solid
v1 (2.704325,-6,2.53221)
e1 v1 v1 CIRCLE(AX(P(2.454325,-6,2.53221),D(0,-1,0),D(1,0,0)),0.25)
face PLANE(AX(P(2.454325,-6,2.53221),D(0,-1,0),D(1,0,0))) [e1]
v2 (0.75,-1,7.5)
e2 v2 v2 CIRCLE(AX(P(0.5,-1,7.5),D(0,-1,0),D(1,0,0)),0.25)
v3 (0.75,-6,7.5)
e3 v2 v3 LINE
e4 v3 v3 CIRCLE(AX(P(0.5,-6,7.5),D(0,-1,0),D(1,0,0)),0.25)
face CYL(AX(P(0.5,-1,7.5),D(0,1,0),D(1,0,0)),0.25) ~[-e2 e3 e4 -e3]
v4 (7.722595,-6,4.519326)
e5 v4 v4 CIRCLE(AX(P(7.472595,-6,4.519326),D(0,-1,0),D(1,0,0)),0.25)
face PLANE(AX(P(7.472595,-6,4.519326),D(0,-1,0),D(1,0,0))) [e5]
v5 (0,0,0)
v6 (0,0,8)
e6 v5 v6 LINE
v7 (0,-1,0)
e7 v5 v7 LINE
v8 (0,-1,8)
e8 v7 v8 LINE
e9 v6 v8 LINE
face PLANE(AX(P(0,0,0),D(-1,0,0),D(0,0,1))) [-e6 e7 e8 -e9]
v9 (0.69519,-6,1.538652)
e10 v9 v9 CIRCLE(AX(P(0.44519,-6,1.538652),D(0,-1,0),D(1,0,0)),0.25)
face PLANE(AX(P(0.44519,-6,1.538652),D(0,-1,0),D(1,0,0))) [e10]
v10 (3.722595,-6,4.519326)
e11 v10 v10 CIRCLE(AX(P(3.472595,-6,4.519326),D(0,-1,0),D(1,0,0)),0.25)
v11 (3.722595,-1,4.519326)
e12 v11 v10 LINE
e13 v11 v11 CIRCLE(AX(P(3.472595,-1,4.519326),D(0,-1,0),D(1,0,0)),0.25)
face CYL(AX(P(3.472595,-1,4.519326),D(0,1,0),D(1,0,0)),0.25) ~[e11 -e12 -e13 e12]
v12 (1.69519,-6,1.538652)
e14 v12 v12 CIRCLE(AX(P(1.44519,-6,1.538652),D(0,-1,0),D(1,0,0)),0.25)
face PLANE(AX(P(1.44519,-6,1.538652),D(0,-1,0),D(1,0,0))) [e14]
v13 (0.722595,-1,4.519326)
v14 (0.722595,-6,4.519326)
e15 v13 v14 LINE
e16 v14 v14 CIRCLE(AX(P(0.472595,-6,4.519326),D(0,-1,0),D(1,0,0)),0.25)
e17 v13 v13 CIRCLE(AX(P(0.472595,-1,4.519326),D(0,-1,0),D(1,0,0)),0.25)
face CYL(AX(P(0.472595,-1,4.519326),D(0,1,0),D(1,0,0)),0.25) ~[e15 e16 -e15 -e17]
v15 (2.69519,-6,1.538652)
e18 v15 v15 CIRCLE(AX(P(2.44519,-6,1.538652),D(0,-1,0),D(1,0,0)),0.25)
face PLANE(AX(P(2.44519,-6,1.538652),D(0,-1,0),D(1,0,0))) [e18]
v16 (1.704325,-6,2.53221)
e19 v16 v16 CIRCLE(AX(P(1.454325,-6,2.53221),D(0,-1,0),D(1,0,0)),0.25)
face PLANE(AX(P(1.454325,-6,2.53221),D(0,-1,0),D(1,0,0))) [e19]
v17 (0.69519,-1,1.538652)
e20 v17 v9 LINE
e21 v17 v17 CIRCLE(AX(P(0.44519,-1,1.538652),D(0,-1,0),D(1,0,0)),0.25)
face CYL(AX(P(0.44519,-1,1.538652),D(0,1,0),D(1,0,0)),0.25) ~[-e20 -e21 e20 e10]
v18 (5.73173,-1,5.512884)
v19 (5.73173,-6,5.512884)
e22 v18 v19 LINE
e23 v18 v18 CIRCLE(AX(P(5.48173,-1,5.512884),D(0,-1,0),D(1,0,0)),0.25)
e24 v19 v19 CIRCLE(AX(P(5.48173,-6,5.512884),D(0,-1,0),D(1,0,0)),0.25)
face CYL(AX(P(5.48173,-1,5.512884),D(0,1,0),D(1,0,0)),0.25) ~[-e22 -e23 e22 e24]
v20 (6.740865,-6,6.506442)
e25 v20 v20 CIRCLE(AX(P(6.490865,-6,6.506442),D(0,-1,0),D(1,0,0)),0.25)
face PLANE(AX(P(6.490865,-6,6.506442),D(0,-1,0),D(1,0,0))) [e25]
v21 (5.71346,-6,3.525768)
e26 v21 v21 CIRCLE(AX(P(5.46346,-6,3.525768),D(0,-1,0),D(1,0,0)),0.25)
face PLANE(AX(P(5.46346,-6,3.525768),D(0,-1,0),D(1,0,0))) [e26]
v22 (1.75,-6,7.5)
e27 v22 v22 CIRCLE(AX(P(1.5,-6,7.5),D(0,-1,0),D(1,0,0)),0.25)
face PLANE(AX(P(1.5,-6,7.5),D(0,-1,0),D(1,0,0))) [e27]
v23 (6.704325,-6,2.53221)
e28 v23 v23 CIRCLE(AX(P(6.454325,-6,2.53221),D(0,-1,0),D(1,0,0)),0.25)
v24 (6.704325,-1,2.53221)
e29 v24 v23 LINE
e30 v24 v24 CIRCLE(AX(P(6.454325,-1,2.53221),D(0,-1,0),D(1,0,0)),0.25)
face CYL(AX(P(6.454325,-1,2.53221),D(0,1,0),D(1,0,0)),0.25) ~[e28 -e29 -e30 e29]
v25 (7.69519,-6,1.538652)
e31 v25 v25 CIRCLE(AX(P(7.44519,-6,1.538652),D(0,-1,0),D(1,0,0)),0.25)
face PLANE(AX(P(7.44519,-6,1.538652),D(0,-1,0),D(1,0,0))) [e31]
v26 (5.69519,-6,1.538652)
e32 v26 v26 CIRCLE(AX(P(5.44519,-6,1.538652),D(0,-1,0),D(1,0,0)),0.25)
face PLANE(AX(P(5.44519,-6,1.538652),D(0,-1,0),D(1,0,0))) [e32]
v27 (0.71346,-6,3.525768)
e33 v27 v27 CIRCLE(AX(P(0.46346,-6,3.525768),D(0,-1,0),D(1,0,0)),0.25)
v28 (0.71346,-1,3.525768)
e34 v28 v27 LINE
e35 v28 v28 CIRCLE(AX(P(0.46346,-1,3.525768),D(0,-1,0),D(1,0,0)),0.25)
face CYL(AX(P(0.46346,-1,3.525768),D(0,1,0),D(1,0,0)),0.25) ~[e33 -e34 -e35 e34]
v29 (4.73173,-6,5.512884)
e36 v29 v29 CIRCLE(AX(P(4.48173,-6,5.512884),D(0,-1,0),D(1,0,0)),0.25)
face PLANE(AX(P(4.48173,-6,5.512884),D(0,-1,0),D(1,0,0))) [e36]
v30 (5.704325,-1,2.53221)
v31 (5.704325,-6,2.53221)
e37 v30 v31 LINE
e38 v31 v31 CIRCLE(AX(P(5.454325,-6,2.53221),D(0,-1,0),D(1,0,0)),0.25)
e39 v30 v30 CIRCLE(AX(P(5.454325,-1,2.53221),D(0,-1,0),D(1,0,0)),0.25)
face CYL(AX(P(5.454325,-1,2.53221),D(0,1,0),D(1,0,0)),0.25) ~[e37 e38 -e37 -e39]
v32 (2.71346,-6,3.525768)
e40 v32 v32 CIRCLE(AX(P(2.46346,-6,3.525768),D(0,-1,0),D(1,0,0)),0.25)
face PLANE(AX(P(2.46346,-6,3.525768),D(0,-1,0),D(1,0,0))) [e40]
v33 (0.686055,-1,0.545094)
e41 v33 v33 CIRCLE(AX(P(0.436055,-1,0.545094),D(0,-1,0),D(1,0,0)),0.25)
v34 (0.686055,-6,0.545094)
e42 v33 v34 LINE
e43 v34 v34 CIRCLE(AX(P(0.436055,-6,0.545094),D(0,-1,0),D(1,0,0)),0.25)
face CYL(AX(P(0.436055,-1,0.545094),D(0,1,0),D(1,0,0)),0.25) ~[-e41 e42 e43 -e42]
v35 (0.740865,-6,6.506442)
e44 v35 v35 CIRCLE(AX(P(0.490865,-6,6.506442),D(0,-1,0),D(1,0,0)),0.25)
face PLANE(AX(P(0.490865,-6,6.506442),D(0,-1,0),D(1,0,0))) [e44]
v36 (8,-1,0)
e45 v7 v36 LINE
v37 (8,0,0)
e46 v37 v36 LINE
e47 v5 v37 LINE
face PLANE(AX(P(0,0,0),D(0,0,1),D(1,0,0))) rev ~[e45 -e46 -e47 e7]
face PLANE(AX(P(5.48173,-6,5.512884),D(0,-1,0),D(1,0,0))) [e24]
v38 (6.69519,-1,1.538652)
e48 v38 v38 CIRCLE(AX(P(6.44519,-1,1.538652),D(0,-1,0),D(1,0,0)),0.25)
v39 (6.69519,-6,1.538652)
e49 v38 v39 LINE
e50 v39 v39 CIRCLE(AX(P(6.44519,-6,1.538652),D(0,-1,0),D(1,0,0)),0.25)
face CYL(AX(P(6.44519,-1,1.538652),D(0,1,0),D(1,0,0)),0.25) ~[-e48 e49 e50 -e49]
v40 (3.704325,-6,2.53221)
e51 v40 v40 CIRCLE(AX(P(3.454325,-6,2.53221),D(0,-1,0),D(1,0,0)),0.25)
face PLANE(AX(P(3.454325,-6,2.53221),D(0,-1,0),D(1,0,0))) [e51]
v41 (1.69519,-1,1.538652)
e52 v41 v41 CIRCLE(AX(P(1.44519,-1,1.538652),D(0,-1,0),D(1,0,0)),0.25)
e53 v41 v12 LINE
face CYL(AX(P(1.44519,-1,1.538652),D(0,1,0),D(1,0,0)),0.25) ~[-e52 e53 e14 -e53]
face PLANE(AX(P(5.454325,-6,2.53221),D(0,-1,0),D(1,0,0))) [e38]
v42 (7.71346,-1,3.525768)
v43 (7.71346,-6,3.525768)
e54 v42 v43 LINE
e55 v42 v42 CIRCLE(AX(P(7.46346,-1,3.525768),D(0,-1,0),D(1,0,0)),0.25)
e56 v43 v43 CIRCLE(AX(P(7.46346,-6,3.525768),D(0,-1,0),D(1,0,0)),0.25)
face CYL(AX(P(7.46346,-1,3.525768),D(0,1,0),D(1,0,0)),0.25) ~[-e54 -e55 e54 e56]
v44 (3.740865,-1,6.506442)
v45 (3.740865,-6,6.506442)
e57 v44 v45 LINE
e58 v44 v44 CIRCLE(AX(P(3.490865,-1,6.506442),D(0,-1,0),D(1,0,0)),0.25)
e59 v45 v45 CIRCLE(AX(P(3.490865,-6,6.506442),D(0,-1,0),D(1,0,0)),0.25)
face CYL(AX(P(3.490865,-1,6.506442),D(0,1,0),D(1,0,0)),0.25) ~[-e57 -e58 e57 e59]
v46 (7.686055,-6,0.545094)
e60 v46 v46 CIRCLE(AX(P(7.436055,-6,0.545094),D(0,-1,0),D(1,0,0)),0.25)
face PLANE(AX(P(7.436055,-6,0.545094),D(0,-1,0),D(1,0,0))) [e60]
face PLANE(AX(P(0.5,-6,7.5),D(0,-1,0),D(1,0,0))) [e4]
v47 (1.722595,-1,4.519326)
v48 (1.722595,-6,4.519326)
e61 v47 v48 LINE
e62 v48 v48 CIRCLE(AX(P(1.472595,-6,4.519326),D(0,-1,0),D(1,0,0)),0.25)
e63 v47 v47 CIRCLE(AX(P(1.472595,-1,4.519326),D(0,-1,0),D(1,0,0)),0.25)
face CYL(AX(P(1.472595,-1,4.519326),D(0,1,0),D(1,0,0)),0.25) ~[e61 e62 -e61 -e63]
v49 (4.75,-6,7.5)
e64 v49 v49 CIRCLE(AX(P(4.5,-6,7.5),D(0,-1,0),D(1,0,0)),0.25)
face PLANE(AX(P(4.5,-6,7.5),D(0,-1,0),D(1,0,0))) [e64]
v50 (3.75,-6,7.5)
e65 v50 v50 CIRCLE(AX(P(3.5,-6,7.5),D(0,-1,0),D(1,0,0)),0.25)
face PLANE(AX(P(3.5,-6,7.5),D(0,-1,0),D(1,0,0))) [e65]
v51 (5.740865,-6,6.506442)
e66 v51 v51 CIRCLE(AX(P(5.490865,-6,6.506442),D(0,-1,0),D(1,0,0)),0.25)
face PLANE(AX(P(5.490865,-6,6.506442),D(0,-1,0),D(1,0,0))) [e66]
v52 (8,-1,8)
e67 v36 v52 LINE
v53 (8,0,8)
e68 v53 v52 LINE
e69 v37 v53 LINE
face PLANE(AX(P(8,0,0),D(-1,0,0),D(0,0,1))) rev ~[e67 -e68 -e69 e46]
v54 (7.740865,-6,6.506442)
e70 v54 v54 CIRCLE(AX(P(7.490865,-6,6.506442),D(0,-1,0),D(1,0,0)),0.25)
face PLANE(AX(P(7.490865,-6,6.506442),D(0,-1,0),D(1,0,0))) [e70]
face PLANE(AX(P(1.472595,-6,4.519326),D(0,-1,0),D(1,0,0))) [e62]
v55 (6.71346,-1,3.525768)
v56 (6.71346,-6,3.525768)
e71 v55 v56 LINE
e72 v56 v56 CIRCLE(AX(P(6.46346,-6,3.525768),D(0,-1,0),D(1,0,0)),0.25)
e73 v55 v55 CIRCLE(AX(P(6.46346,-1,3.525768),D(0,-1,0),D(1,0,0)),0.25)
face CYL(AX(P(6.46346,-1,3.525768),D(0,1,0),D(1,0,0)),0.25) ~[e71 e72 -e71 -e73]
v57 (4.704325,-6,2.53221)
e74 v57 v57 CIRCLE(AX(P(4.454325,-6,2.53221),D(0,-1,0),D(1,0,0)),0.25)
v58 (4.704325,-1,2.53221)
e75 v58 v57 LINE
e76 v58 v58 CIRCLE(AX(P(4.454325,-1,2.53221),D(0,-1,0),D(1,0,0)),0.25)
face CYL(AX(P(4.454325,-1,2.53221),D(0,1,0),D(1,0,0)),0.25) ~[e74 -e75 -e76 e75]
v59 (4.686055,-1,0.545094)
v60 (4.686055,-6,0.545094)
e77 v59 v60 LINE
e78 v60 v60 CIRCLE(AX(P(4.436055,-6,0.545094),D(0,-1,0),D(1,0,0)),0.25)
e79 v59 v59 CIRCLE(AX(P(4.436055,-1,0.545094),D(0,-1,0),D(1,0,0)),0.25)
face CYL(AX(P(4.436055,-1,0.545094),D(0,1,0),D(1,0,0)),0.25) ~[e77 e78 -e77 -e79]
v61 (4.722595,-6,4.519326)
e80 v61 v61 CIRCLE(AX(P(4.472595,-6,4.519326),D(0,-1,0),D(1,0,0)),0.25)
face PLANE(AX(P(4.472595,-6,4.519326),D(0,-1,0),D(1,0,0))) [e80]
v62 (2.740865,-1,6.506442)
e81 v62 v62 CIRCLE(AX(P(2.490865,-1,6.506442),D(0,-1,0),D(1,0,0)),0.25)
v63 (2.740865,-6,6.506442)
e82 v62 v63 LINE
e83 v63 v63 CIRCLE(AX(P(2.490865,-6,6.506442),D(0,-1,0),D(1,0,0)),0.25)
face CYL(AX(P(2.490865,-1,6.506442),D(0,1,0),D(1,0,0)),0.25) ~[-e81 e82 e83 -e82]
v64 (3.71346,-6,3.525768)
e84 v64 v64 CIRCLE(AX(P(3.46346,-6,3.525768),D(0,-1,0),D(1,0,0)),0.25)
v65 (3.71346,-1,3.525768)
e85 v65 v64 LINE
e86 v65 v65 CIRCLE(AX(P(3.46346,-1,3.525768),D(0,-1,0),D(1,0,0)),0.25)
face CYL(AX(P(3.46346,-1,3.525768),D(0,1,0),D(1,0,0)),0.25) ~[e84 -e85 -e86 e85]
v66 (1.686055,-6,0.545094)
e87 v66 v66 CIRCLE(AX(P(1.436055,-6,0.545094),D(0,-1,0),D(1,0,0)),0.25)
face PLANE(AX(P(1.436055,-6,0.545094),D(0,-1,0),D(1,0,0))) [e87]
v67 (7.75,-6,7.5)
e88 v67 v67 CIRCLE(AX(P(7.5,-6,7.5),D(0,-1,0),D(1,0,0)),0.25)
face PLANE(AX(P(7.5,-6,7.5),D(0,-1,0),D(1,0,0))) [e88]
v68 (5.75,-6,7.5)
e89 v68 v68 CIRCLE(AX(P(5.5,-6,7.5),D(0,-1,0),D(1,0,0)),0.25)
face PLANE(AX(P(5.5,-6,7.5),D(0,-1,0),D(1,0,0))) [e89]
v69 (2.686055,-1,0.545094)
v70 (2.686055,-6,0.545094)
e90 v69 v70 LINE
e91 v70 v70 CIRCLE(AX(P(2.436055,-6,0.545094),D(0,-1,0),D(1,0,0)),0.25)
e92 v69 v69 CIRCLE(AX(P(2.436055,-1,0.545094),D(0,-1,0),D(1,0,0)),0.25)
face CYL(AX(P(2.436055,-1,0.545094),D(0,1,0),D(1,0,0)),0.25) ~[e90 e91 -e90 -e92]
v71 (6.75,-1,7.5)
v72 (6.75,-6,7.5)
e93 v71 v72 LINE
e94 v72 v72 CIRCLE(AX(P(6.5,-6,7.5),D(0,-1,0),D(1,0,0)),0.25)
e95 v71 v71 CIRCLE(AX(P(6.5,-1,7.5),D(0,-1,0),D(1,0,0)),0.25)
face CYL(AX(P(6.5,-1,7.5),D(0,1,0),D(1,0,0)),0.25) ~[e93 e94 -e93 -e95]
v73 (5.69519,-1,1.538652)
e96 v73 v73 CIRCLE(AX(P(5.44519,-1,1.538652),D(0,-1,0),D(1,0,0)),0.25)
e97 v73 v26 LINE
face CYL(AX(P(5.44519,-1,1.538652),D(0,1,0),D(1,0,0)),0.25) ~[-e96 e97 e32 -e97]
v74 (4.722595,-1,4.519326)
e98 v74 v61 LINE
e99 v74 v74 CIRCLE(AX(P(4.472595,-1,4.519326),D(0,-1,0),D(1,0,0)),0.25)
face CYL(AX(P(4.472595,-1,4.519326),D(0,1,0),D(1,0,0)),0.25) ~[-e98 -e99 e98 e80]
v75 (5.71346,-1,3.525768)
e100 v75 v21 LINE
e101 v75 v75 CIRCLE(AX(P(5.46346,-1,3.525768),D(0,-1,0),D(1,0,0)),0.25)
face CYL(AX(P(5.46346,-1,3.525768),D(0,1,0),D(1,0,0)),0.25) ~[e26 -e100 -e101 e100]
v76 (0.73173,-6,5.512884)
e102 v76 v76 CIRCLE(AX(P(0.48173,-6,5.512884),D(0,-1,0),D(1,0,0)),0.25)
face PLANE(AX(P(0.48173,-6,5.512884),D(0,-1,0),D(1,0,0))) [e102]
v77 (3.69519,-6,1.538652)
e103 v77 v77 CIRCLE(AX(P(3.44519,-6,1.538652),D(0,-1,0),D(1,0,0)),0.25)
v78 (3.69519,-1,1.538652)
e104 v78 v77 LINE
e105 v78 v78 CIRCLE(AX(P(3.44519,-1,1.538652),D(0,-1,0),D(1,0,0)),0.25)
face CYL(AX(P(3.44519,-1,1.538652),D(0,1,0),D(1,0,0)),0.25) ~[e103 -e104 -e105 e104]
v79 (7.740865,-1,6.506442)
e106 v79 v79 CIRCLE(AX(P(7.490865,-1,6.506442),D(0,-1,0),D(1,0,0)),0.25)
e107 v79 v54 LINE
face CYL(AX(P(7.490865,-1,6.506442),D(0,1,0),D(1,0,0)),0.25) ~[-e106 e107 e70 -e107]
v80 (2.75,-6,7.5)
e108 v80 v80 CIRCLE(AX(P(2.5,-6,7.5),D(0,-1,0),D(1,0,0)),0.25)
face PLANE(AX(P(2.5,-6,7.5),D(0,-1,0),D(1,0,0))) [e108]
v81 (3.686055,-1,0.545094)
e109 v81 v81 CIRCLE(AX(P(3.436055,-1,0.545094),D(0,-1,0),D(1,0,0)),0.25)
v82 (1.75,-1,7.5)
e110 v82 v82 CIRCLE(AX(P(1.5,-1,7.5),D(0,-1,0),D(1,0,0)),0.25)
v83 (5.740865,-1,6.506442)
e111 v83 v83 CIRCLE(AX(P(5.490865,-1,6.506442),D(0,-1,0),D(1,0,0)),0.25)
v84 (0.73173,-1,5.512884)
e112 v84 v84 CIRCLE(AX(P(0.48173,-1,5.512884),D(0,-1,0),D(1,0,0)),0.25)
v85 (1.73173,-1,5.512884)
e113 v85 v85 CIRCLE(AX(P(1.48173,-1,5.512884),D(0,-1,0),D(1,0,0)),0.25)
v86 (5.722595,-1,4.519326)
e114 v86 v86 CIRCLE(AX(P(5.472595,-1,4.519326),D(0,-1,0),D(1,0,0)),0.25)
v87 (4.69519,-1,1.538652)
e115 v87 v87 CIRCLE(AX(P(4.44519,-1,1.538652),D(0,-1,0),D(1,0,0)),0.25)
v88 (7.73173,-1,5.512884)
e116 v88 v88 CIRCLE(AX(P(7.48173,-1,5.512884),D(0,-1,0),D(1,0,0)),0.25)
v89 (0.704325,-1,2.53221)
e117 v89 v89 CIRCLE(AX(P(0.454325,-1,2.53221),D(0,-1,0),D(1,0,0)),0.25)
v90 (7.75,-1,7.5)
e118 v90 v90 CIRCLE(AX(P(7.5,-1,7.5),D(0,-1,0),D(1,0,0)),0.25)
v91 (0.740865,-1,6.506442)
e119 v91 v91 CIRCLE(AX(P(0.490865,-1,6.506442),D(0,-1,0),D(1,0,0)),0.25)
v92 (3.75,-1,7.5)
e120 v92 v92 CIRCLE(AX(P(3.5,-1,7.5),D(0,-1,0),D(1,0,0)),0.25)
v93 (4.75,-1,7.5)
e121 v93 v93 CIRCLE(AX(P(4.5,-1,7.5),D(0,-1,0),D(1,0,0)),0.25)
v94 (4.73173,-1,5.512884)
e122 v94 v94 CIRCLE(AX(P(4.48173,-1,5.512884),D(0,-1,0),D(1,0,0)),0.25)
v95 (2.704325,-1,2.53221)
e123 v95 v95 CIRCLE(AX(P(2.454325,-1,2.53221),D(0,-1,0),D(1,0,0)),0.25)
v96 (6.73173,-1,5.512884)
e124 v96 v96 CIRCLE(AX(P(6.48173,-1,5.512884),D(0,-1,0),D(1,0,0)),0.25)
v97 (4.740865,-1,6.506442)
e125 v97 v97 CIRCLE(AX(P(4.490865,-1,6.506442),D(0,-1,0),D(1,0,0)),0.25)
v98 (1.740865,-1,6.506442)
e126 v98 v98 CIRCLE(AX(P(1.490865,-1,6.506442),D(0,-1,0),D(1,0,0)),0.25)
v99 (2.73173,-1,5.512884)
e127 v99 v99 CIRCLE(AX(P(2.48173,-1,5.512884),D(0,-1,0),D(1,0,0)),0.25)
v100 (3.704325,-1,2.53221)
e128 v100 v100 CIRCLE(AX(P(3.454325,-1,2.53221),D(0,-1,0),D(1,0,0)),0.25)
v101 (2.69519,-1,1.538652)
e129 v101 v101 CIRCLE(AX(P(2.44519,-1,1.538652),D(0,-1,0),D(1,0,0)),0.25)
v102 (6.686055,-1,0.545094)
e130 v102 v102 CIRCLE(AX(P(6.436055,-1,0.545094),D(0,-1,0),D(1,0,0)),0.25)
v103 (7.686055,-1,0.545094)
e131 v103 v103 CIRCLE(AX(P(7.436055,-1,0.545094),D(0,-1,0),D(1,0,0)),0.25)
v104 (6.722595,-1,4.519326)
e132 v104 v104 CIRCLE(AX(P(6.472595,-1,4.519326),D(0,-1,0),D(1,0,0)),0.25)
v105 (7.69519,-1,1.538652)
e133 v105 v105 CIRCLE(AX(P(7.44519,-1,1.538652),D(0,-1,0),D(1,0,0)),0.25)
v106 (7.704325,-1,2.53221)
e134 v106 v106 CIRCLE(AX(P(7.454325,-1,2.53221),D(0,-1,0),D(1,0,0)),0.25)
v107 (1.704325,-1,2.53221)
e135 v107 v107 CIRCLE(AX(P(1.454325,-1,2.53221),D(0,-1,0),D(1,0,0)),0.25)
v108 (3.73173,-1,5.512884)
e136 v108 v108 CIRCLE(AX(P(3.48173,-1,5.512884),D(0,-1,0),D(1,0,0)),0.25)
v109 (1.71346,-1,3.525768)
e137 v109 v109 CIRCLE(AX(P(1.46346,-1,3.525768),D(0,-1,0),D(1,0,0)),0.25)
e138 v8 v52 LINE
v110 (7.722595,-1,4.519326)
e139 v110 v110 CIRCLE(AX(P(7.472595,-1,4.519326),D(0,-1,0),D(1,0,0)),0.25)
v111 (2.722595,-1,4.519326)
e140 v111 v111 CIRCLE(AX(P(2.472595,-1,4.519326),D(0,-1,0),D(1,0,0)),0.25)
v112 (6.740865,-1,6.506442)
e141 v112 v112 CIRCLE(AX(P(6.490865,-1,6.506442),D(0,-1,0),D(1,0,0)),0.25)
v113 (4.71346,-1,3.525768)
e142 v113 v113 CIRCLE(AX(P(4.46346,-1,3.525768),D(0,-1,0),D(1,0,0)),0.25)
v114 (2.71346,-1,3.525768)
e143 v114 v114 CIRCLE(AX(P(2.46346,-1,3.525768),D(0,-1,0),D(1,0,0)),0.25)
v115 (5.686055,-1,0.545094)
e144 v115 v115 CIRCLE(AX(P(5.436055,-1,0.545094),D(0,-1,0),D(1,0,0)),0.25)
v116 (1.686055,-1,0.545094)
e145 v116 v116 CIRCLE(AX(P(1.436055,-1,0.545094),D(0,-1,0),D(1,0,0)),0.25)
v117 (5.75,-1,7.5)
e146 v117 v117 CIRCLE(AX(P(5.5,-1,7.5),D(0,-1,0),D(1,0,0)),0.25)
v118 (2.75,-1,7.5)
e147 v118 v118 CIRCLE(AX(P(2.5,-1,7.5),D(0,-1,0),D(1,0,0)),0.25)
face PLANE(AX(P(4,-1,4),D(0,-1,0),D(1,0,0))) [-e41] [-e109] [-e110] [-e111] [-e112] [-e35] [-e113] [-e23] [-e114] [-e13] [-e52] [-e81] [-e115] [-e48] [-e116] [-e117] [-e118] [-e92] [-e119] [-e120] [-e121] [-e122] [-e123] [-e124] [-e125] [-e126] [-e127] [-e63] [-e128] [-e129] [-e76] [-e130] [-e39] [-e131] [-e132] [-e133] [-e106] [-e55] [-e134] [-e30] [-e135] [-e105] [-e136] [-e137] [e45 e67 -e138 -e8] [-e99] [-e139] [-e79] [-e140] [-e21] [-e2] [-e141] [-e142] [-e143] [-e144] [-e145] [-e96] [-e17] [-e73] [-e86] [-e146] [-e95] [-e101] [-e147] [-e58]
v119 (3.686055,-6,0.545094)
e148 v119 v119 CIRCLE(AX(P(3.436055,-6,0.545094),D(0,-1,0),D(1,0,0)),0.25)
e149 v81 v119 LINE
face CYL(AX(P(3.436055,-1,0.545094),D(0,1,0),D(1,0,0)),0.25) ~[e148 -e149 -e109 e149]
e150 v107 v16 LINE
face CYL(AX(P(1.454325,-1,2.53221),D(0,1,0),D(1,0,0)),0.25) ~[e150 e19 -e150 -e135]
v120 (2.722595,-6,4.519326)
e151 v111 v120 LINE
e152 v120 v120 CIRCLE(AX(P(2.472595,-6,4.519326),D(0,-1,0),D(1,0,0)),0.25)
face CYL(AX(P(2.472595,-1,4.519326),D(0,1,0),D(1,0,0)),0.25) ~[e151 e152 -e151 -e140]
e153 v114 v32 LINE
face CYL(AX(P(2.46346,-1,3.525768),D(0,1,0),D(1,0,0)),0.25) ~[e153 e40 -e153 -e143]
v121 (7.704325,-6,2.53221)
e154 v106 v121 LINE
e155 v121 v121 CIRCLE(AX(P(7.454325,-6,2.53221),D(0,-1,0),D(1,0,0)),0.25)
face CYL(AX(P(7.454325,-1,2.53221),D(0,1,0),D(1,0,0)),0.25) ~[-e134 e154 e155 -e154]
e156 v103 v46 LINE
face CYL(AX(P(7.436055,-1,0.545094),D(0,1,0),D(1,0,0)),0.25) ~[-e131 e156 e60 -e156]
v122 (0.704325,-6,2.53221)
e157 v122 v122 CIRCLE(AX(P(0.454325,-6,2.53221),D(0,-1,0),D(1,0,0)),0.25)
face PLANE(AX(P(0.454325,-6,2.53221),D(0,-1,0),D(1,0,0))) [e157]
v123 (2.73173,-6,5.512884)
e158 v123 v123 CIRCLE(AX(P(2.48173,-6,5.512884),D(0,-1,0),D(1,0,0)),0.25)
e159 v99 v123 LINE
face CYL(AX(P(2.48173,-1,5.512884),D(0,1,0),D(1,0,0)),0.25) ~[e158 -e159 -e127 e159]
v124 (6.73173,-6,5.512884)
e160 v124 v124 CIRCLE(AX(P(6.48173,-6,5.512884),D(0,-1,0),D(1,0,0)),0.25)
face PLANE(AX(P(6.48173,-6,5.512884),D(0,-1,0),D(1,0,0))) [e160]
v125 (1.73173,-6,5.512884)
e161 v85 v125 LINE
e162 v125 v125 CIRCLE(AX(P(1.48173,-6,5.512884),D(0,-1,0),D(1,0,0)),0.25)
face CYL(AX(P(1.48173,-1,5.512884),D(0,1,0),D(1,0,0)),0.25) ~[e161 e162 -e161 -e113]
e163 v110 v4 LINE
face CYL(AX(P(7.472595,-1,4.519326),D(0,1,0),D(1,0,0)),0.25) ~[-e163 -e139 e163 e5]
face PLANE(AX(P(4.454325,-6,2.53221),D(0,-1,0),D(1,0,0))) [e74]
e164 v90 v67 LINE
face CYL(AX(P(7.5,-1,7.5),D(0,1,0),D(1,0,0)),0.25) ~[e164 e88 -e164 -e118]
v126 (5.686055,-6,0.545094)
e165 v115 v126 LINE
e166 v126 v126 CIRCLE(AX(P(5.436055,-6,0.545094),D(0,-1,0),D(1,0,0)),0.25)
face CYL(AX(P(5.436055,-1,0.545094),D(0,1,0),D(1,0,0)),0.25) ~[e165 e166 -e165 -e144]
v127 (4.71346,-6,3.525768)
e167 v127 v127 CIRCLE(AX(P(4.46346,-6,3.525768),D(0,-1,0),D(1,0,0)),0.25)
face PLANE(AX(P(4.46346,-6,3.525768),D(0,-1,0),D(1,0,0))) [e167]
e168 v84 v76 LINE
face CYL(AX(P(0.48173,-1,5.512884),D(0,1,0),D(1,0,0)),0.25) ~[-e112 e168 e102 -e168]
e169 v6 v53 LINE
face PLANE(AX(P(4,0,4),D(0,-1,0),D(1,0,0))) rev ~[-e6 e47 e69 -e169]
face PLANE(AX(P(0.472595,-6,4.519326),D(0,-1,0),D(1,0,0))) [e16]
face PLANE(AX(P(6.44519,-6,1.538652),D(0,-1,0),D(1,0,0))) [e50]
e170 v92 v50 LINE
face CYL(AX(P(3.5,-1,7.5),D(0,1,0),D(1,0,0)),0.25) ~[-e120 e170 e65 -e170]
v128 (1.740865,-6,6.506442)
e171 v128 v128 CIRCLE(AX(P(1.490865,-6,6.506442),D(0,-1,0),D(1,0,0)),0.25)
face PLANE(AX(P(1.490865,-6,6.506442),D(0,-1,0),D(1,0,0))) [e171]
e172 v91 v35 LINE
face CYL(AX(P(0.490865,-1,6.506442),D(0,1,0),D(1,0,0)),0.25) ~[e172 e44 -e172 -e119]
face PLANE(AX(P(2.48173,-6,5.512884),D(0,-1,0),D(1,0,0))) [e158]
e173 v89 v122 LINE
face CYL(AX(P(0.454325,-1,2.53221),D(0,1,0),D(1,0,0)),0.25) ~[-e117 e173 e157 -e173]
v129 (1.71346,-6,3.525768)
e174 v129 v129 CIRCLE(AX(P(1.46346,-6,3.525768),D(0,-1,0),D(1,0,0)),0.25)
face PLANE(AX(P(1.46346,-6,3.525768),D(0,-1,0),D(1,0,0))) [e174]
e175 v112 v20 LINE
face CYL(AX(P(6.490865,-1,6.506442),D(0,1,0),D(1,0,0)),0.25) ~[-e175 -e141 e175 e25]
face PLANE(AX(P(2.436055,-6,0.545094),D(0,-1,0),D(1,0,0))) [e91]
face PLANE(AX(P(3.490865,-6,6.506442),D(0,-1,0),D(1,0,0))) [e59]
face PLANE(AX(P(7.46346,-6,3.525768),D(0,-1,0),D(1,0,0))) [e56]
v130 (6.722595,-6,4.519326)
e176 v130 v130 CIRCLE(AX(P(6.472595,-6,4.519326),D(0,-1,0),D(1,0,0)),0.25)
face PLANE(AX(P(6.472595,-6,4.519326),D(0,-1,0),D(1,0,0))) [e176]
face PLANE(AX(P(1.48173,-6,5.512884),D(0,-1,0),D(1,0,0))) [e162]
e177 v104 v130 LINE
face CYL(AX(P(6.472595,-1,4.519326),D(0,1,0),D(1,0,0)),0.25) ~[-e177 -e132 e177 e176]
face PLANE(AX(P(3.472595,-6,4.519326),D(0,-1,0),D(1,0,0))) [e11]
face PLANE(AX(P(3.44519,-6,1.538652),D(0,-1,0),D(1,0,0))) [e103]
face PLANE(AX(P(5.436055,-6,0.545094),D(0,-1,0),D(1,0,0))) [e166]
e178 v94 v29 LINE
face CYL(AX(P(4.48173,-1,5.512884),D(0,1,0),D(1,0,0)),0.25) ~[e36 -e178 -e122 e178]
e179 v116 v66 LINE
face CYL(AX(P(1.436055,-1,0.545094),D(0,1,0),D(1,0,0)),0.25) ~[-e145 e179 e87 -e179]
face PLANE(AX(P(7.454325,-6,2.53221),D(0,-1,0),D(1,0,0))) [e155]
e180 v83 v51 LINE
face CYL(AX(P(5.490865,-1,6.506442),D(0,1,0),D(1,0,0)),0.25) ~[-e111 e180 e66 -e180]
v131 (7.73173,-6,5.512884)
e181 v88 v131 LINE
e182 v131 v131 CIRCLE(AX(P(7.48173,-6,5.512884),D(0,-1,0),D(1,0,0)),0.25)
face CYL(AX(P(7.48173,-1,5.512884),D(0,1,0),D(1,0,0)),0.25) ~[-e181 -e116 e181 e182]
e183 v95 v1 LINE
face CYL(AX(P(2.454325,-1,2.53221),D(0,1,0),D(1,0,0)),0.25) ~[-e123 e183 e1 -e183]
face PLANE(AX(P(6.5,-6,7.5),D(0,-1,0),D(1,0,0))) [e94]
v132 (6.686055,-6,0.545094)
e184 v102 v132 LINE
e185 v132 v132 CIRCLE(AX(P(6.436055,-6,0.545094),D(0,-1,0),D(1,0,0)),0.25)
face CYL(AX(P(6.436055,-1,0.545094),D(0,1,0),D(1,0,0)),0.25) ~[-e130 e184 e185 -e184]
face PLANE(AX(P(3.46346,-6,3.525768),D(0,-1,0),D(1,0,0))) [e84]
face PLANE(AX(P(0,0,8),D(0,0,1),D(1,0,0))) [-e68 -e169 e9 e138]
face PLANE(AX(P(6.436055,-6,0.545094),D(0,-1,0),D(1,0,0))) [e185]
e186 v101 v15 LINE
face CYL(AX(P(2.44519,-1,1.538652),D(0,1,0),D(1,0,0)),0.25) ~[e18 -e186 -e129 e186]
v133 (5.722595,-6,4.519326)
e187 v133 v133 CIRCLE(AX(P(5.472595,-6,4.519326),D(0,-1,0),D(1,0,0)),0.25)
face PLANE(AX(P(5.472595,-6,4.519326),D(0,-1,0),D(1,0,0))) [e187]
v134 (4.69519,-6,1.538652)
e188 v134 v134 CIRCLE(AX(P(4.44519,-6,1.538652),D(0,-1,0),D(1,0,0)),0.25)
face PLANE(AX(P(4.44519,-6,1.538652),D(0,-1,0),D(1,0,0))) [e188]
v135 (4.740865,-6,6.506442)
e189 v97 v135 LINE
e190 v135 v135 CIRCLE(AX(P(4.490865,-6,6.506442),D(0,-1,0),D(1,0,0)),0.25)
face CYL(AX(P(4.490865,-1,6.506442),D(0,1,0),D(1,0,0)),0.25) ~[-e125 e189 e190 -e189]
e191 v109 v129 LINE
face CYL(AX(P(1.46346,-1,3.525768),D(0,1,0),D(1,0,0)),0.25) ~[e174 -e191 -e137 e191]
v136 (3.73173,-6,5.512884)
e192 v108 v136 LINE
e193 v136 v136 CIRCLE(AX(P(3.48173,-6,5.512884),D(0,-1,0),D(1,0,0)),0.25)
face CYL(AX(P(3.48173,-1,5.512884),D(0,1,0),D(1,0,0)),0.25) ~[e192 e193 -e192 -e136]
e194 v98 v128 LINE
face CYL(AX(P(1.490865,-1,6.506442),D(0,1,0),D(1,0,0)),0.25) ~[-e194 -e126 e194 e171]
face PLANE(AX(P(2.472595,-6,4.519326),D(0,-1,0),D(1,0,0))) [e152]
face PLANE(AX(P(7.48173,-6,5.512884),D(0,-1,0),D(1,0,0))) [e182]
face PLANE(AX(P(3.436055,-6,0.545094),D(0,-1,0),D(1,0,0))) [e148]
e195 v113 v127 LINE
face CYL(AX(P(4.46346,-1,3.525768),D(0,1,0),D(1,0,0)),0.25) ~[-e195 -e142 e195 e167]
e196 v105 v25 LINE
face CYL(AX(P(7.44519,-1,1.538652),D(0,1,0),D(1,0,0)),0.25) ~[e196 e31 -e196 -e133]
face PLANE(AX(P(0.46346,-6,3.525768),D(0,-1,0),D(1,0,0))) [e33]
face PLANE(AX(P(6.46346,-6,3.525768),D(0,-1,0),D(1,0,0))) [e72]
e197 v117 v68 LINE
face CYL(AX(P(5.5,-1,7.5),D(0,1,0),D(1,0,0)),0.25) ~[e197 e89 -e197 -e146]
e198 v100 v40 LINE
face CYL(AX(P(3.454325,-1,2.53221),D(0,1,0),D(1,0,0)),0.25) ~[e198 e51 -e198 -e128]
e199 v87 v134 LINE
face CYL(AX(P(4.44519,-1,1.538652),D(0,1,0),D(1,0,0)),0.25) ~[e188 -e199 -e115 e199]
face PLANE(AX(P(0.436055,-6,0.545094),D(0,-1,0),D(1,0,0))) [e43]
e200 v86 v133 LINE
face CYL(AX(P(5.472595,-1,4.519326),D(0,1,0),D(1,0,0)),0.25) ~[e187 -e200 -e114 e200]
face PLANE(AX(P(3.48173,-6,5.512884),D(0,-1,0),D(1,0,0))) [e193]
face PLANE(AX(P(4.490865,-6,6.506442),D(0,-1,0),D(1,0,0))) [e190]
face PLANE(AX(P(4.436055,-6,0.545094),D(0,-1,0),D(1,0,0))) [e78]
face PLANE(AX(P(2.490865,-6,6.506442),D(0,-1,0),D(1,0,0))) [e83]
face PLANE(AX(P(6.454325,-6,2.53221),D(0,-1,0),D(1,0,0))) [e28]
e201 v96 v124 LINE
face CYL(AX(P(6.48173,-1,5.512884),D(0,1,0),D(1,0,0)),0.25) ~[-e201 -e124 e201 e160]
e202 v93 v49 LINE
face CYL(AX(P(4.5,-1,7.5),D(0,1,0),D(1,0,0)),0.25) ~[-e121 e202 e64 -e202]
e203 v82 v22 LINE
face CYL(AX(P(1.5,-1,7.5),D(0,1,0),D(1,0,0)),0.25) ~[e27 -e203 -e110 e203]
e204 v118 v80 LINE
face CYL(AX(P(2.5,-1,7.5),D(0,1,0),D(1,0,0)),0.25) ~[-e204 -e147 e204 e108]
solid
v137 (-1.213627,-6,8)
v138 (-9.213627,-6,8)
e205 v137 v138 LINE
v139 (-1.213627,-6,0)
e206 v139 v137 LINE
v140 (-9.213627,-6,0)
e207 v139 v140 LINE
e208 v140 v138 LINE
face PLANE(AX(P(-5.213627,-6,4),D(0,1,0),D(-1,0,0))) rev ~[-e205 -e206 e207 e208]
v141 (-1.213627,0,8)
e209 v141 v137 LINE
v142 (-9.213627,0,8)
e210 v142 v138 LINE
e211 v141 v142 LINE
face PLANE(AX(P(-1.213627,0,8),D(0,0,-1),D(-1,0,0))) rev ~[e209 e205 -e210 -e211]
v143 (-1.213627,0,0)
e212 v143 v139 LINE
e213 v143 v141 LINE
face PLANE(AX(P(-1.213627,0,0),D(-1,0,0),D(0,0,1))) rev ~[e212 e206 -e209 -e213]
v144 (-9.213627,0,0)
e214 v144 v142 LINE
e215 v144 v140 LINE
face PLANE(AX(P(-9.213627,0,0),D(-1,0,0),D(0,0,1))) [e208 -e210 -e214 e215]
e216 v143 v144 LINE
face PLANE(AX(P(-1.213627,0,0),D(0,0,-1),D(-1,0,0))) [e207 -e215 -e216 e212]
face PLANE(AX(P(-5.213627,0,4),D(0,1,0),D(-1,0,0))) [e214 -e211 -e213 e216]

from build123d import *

# Parameters (mm, degrees)
F0_W     = 8
F0_H     = 8
F1_DEPTH = 1
F2_R     = 0.25
F3_DEPTH = 5
F4_W     = 8
F4_H     = 8
F5_DEPTH = 6


with BuildPart() as f1:
    # F0 (on Front) → F1 (new body)
    with BuildSketch(Plane.XZ):
        with Locations((4, 4)):
            Rectangle(F0_W, F0_H)
    extrude(amount=F1_DEPTH)

    # F2 (on face) → F3 (join)
    with BuildSketch(Plane.XZ.offset(1)):
        with Locations((0.5, 7.5)):
            Circle(F2_R)
        with Locations((1.5, 7.5)):
            Circle(F2_R)
        with Locations((2.5, 7.5)):
            Circle(F2_R)
        with Locations((3.5, 7.5)):
            Circle(F2_R)
        with Locations((4.5, 7.5)):
            Circle(F2_R)
        with Locations((5.5, 7.5)):
            Circle(F2_R)
        with Locations((6.5, 7.5)):
            Circle(F2_R)
        with Locations((7.5, 7.5)):
            Circle(F2_R)
        with Locations((0.490865, 6.506442)):
            Circle(F2_R)
        with Locations((1.490865, 6.506442)):
            Circle(F2_R)
        with Locations((2.490865, 6.506442)):
            Circle(F2_R)
        with Locations((3.490865, 6.506442)):
            Circle(F2_R)
        with Locations((4.490865, 6.506442)):
            Circle(F2_R)
        with Locations((5.490865, 6.506442)):
            Circle(F2_R)
        with Locations((6.490865, 6.506442)):
            Circle(F2_R)
        with Locations((7.490865, 6.506442)):
            Circle(F2_R)
        with Locations((0.48173, 5.512884)):
            Circle(F2_R)
        with Locations((1.48173, 5.512884)):
            Circle(F2_R)
        with Locations((2.48173, 5.512884)):
            Circle(F2_R)
        with Locations((3.48173, 5.512884)):
            Circle(F2_R)
        with Locations((4.48173, 5.512884)):
            Circle(F2_R)
        with Locations((5.48173, 5.512884)):
            Circle(F2_R)
        with Locations((6.48173, 5.512884)):
            Circle(F2_R)
        with Locations((7.48173, 5.512884)):
            Circle(F2_R)
        with Locations((0.472595, 4.519326)):
            Circle(F2_R)
        with Locations((1.472595, 4.519326)):
            Circle(F2_R)
        with Locations((2.472595, 4.519326)):
            Circle(F2_R)
        with Locations((3.472595, 4.519326)):
            Circle(F2_R)
        with Locations((4.472595, 4.519326)):
            Circle(F2_R)
        with Locations((5.472595, 4.519326)):
            Circle(F2_R)
        with Locations((6.472595, 4.519326)):
            Circle(F2_R)
        with Locations((7.472595, 4.519326)):
            Circle(F2_R)
        with Locations((0.46346, 3.525768)):
            Circle(F2_R)
        with Locations((1.46346, 3.525768)):
            Circle(F2_R)
        with Locations((2.46346, 3.525768)):
            Circle(F2_R)
        with Locations((3.46346, 3.525768)):
            Circle(F2_R)
        with Locations((4.46346, 3.525768)):
            Circle(F2_R)
        with Locations((5.46346, 3.525768)):
            Circle(F2_R)
        with Locations((6.46346, 3.525768)):
            Circle(F2_R)
        with Locations((7.46346, 3.525768)):
            Circle(F2_R)
        with Locations((0.454325, 2.53221)):
            Circle(F2_R)
        with Locations((1.454325, 2.53221)):
            Circle(F2_R)
        with Locations((2.454325, 2.53221)):
            Circle(F2_R)
        with Locations((3.454325, 2.53221)):
            Circle(F2_R)
        with Locations((4.454325, 2.53221)):
            Circle(F2_R)
        with Locations((5.454325, 2.53221)):
            Circle(F2_R)
        with Locations((6.454325, 2.53221)):
            Circle(F2_R)
        with Locations((7.454325, 2.53221)):
            Circle(F2_R)
        with Locations((0.44519, 1.538652)):
            Circle(F2_R)
        with Locations((1.44519, 1.538652)):
            Circle(F2_R)
        with Locations((2.44519, 1.538652)):
            Circle(F2_R)
        with Locations((3.44519, 1.538652)):
            Circle(F2_R)
        with Locations((4.44519, 1.538652)):
            Circle(F2_R)
        with Locations((5.44519, 1.538652)):
            Circle(F2_R)
        with Locations((6.44519, 1.538652)):
            Circle(F2_R)
        with Locations((7.44519, 1.538652)):
            Circle(F2_R)
        with Locations((0.436055, 0.545094)):
            Circle(F2_R)
        with Locations((1.436055, 0.545094)):
            Circle(F2_R)
        with Locations((2.436055, 0.545094)):
            Circle(F2_R)
        with Locations((3.436055, 0.545094)):
            Circle(F2_R)
        with Locations((4.436055, 0.545094)):
            Circle(F2_R)
        with Locations((5.436055, 0.545094)):
            Circle(F2_R)
        with Locations((6.436055, 0.545094)):
            Circle(F2_R)
        with Locations((7.436055, 0.545094)):
            Circle(F2_R)
    extrude(amount=F3_DEPTH)


with BuildPart() as f5:
    # F4 (on face) → F5 (new body)
    with BuildSketch(Plane(origin=(0, 0, 0), x_dir=(-1, 0, 0), z_dir=(0, 1, 0))):
        with Locations((5.213627, 4)):
            Rectangle(F4_W, F4_H)
    extrude(amount=-F5_DEPTH)


solid = Compound([f1.part, f5.part])
